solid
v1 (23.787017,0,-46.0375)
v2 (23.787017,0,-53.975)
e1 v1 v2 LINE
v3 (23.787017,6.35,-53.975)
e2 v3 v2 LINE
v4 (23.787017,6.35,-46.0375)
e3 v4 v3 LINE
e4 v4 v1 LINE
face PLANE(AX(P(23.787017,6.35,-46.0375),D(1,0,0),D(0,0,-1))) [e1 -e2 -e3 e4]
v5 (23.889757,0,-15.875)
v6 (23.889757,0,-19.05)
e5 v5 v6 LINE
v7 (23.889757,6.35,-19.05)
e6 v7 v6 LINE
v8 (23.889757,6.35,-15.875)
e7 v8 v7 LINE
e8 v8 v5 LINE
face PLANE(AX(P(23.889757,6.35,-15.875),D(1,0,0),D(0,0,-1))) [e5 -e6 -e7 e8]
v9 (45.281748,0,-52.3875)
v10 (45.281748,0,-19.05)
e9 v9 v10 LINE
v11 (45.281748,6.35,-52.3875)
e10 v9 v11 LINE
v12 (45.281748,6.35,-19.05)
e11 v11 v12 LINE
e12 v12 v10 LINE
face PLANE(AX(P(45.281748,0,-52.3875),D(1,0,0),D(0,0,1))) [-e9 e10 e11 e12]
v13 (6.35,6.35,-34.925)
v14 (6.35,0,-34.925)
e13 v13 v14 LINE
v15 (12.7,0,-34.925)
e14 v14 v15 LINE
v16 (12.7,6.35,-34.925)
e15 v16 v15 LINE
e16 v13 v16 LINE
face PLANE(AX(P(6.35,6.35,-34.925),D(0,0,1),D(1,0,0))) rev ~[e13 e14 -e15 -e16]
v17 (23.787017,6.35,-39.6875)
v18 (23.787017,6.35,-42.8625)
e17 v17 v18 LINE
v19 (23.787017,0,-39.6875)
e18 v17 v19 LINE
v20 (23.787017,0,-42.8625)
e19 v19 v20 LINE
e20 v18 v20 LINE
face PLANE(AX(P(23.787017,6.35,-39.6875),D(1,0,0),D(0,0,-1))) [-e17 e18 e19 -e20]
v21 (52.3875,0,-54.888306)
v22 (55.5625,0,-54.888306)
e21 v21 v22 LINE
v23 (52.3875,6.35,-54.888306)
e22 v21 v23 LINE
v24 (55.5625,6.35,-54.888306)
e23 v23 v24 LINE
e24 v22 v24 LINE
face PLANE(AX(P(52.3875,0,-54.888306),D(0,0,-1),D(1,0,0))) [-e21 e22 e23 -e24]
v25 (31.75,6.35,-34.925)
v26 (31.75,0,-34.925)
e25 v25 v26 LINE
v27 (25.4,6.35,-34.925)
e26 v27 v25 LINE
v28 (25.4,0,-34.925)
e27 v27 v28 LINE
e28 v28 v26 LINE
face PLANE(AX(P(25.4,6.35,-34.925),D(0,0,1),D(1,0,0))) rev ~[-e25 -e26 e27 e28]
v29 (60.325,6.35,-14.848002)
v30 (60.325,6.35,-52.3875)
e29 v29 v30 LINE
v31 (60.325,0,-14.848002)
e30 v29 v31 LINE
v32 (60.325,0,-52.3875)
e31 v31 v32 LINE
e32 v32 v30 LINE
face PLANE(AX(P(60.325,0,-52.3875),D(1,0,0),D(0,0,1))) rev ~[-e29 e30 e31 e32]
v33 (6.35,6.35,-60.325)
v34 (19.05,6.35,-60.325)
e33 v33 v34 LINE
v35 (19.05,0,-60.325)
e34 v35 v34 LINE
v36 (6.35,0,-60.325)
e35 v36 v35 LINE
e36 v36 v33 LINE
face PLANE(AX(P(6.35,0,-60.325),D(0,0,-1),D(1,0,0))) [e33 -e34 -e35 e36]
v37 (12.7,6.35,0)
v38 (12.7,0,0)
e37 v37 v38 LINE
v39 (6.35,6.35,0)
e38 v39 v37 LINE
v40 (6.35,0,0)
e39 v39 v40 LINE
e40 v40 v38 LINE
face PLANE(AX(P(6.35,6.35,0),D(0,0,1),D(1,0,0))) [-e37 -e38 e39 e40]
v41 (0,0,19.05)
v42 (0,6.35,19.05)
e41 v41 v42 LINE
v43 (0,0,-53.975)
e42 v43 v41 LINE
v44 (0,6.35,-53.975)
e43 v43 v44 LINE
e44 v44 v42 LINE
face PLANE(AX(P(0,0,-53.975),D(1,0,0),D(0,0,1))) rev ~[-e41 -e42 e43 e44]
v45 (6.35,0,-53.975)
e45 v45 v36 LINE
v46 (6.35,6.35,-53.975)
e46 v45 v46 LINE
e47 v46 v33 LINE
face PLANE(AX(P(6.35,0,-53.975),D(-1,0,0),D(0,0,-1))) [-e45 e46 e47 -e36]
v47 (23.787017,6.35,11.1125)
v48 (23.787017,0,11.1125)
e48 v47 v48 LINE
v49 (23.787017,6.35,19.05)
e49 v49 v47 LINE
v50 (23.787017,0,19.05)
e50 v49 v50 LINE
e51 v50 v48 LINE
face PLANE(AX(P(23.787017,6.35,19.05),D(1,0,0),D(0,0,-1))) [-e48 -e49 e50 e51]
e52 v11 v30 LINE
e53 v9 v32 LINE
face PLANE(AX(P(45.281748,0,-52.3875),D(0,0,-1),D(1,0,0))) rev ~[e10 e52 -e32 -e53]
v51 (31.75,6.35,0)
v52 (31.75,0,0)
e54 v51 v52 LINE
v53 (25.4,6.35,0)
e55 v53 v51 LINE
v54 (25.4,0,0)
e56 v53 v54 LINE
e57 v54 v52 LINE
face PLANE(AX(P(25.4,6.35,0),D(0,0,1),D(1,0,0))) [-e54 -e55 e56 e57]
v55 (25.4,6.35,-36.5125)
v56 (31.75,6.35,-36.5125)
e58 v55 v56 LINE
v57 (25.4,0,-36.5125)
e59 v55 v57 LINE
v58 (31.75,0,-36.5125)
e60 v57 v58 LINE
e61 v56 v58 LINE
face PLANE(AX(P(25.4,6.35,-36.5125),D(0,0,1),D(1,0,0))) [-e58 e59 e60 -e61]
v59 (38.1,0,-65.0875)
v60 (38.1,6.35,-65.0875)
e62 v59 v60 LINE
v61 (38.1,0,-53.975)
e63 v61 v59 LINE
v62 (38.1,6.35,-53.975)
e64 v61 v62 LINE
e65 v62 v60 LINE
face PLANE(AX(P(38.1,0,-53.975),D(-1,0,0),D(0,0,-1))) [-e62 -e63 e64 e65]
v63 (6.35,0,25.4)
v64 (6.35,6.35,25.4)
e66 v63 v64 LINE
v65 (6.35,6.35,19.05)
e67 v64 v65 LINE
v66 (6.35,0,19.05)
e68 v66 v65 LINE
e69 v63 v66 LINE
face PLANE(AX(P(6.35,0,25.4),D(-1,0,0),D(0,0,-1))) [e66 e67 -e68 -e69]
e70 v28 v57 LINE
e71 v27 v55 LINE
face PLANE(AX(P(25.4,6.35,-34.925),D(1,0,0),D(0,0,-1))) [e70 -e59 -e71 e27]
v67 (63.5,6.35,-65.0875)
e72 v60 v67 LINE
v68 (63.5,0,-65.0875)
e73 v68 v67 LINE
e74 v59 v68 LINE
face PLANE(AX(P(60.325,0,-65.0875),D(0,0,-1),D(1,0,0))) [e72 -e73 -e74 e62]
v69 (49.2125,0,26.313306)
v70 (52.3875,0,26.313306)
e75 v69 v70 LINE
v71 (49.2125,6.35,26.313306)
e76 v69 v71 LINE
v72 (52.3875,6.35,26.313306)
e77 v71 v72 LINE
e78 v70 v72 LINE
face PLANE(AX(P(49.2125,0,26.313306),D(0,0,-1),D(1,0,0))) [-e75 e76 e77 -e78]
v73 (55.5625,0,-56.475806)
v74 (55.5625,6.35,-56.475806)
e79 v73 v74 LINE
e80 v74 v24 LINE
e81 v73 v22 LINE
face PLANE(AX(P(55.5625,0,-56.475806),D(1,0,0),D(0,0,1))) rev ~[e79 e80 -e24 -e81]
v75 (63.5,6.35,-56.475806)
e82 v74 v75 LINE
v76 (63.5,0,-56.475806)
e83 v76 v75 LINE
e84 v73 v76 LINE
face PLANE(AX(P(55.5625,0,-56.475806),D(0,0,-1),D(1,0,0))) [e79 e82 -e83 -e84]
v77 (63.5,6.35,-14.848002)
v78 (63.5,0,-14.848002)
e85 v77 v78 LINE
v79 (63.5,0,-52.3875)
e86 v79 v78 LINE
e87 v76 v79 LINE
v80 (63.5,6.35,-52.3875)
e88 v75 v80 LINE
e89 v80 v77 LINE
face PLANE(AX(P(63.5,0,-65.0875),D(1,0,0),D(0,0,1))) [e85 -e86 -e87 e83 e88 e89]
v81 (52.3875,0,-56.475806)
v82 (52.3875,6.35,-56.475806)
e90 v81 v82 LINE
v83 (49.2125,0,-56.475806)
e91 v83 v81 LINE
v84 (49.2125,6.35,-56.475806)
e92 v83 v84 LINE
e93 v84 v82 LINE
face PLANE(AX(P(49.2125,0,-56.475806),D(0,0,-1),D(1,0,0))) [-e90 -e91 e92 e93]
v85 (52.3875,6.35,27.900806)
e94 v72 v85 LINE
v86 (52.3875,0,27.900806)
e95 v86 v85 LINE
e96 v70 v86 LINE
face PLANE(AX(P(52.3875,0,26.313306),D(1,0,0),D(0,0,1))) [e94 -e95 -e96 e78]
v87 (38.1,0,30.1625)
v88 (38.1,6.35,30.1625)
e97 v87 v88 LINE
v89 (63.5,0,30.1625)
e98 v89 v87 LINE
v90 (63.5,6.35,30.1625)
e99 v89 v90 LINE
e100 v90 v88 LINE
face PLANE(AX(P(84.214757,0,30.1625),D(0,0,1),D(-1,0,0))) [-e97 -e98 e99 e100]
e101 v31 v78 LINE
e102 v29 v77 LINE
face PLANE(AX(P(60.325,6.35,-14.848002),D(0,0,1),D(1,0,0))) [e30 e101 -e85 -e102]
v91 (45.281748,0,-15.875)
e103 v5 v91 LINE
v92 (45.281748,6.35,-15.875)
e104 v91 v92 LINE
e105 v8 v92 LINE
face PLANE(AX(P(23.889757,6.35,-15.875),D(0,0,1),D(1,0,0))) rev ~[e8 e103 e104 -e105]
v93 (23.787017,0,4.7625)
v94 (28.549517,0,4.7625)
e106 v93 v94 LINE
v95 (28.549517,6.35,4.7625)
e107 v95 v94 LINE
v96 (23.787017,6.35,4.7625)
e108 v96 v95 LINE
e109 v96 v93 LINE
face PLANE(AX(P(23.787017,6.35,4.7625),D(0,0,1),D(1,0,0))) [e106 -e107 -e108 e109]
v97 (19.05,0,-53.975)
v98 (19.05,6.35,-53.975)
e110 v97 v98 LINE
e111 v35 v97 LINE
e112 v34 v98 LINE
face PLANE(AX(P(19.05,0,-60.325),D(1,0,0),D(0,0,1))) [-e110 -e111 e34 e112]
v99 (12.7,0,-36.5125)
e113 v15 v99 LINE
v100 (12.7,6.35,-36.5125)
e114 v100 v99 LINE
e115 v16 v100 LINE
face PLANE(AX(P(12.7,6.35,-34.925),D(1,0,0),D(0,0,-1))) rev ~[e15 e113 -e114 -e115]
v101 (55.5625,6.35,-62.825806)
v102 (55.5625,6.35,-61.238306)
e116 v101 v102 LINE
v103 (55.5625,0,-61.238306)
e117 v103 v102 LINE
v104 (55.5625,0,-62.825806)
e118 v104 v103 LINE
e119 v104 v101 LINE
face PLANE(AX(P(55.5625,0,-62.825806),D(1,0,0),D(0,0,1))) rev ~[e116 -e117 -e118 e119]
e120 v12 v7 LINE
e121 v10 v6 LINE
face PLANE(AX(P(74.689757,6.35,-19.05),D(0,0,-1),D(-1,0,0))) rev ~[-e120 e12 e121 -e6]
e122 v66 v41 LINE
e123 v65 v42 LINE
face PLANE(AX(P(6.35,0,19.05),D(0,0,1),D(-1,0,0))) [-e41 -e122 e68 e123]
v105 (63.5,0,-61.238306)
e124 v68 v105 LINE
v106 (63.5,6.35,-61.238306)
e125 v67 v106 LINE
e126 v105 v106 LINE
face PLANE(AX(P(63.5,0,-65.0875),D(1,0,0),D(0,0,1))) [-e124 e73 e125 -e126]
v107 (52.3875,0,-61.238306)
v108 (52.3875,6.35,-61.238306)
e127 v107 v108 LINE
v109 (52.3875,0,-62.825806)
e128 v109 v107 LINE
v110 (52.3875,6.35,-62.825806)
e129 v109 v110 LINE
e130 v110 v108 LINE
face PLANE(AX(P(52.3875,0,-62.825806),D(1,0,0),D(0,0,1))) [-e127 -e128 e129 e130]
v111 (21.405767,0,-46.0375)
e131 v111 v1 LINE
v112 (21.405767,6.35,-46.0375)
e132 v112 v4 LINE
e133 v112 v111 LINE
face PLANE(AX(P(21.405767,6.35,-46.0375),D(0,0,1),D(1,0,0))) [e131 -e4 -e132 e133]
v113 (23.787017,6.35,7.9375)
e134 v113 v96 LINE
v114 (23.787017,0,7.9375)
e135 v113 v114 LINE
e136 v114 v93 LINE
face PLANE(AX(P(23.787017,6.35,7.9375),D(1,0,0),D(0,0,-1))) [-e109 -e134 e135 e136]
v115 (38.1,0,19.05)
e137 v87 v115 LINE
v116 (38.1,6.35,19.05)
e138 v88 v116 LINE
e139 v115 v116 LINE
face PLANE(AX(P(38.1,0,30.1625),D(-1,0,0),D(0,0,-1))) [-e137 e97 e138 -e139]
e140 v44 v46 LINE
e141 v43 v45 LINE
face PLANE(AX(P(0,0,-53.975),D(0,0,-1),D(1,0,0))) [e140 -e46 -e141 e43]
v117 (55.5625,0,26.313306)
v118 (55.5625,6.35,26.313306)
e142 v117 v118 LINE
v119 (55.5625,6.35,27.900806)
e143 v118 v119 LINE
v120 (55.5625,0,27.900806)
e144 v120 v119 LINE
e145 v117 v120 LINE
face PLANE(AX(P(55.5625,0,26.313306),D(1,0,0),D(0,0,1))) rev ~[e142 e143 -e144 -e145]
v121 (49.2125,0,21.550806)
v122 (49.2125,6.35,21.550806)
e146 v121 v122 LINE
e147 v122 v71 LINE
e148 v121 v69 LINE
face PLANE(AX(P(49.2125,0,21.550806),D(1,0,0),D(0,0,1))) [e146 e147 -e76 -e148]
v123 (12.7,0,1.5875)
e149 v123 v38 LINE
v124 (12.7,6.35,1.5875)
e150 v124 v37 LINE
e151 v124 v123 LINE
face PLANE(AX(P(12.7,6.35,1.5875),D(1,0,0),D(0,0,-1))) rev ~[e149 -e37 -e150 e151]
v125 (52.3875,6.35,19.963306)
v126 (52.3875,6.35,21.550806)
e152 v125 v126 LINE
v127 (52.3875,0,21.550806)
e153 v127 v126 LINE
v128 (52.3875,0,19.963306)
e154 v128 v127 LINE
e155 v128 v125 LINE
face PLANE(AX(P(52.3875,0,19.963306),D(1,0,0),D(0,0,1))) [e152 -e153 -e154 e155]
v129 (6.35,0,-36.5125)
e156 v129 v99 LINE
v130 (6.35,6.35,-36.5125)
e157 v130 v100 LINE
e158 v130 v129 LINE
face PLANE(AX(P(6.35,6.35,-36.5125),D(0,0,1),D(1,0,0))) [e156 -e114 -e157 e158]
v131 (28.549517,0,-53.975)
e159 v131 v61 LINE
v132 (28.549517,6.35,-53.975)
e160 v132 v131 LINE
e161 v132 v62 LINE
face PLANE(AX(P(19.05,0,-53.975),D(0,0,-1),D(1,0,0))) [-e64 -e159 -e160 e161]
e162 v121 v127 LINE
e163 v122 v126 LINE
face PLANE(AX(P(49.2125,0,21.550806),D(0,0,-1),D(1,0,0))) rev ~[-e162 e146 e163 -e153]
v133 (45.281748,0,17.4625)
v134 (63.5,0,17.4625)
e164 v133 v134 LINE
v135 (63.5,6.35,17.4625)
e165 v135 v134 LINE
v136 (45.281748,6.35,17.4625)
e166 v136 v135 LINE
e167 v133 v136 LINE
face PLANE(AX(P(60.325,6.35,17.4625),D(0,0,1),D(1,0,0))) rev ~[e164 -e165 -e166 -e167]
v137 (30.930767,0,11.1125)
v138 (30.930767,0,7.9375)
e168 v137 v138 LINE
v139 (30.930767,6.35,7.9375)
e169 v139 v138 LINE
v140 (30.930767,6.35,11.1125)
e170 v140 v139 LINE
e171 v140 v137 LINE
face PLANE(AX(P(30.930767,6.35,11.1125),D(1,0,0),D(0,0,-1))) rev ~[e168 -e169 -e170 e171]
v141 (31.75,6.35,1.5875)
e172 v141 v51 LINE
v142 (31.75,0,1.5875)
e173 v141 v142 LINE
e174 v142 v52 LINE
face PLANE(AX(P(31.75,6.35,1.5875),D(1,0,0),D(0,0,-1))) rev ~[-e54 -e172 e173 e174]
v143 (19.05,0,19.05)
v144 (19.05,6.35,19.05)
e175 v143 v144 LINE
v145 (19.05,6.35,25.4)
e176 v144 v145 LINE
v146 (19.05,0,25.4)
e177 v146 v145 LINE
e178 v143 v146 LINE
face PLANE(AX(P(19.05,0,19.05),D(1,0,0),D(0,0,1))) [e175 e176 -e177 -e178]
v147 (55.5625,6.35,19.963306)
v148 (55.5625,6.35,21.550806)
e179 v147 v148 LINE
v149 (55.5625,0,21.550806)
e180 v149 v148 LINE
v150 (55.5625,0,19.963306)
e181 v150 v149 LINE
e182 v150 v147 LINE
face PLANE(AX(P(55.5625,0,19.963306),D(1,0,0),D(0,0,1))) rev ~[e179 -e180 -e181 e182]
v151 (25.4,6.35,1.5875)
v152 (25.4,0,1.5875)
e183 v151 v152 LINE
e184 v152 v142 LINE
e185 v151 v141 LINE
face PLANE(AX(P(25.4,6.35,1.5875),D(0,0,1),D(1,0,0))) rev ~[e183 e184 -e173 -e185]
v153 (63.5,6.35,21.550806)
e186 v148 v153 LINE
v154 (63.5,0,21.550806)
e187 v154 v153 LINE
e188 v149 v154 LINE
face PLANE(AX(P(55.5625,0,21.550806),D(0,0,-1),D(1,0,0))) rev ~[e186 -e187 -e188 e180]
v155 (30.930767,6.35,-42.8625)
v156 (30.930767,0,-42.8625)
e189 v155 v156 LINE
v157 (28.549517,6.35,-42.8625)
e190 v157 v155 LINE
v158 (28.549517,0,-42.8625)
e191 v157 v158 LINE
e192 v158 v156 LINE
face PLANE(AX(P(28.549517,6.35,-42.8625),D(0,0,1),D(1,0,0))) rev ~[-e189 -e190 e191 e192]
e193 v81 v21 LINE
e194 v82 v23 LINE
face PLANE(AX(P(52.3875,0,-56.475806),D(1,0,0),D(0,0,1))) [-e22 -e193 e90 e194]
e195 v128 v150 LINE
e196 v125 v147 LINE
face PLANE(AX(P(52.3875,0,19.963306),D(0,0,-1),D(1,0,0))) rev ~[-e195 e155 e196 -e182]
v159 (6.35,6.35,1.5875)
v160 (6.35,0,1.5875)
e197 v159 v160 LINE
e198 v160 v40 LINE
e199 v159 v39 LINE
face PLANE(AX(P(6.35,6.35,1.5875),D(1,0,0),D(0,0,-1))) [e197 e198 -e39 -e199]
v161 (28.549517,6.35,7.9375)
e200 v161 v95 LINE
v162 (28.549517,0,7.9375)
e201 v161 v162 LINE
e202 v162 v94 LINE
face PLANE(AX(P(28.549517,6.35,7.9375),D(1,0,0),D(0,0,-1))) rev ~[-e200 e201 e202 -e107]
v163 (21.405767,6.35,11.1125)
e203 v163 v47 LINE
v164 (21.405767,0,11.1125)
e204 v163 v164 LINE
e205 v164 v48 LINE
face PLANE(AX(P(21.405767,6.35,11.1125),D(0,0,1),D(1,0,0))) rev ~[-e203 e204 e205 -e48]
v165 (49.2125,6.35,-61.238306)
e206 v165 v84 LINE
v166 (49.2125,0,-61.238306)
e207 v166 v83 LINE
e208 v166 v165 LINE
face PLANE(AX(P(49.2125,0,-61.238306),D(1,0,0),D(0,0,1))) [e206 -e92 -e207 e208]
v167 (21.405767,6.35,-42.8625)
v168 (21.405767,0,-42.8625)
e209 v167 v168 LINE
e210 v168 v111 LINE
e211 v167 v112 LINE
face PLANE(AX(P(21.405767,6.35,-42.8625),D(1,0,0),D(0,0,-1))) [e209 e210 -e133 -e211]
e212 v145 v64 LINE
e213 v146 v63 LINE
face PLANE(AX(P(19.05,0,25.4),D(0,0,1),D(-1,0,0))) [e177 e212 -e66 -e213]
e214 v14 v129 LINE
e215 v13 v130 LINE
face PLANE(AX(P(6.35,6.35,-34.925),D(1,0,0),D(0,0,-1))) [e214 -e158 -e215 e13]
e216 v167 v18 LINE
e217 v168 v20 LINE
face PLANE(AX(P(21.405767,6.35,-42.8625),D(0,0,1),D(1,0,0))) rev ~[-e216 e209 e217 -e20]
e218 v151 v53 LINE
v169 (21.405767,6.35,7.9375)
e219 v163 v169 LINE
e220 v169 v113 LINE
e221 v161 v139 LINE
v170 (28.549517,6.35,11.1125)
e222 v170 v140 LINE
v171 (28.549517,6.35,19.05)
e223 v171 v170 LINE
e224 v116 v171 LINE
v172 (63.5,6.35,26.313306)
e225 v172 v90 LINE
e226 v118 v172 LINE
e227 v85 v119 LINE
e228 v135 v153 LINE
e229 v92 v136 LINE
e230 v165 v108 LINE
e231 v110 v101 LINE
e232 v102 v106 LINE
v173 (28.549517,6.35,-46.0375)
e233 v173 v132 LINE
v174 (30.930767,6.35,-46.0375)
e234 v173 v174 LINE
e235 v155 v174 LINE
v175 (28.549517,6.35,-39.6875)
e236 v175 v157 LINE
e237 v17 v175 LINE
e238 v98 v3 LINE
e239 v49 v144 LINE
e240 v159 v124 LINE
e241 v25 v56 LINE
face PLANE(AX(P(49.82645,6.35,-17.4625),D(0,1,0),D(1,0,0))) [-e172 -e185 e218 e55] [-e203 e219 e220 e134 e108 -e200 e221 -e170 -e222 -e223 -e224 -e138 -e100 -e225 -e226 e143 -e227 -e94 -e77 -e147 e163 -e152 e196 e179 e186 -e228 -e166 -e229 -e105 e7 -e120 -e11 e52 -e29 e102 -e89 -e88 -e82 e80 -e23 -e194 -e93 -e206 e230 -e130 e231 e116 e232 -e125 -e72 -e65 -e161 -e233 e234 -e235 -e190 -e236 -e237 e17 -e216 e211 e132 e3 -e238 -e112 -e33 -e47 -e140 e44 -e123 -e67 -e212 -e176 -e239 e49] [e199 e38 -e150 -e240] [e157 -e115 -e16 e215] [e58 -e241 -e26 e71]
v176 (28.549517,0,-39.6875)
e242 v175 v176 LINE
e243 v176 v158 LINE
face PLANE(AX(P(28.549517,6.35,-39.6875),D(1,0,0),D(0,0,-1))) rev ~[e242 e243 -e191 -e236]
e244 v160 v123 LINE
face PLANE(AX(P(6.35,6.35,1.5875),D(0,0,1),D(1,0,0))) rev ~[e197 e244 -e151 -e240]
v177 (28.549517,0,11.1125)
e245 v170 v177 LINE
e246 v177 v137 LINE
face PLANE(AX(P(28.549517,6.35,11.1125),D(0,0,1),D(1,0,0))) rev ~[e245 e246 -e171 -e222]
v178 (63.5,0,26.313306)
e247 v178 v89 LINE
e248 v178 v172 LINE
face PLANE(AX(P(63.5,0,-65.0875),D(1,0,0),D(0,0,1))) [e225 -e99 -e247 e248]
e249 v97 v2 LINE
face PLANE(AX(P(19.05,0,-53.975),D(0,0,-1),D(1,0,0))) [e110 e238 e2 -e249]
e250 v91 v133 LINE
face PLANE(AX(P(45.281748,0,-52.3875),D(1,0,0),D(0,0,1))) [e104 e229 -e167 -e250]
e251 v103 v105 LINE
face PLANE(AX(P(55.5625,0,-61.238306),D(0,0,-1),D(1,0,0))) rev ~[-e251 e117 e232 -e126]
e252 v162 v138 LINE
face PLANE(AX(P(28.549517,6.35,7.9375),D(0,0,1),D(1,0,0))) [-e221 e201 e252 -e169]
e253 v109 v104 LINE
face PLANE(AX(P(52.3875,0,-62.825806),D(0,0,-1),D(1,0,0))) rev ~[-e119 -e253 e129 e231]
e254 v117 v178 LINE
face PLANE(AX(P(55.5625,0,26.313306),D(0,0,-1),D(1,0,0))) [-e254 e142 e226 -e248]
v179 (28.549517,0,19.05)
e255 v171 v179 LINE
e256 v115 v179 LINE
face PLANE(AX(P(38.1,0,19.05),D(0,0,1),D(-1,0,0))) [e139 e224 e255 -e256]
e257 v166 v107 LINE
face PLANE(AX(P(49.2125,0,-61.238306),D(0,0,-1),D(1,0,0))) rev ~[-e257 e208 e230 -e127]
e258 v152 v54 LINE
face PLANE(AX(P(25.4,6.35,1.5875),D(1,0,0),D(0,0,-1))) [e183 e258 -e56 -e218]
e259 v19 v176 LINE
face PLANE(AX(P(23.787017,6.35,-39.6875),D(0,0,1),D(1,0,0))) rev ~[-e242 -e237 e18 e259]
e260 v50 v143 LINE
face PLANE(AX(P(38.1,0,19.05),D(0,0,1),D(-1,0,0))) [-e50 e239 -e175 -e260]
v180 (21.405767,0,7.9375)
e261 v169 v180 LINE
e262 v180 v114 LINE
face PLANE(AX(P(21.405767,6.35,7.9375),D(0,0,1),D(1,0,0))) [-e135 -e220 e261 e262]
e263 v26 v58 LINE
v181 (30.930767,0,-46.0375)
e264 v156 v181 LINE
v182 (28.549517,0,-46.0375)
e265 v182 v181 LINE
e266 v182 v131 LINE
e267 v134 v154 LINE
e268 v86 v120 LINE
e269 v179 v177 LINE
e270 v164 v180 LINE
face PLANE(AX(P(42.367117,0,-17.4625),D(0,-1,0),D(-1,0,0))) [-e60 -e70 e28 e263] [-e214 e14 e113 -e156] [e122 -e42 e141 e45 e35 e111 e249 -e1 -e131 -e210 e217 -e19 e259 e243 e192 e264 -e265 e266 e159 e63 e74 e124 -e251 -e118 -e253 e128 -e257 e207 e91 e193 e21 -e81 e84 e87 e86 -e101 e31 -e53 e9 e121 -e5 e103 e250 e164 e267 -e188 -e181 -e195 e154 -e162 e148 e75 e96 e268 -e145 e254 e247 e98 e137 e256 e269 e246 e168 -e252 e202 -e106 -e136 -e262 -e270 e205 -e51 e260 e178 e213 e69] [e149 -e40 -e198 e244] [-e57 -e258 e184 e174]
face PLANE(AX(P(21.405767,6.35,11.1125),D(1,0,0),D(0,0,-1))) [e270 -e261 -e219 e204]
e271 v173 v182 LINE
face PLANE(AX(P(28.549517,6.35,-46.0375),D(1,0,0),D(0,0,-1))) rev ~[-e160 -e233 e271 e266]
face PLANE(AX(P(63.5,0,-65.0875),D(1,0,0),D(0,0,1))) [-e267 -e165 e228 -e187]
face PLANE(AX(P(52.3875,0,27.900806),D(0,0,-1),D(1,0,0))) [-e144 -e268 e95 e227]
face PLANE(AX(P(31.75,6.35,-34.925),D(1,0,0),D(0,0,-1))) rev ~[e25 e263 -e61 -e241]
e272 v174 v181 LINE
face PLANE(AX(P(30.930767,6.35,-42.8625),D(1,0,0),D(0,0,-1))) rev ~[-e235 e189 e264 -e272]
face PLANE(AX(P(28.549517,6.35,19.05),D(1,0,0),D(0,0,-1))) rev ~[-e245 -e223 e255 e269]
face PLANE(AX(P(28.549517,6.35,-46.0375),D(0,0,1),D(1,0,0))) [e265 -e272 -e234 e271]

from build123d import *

# Parameters (mm, degrees)
BOSS_EXTRUDE1_DEPTH = 6.35
SKETCH2_W           = 6.35
SKETCH2_H           = 1.5875
CUT_EXTRUDE1_DEPTH  = 6.35
BOSS_EXTRUDE2_START = -6.35
SKETCH4_W           = 24.326613467
SKETCH4_H           = 69.85
BOSS_EXTRUDE2_DEPTH = 6.35
SKETCH5_W           = 25.4
SKETCH5_H           = 3.175
CUT_EXTRUDE3_DEPTH  = 6.35
SKETCH7_W           = 19.923596682
SKETCH7_H           = 95.25
CUT_EXTRUDE4_DEPTH  = 6.35
SKETCH8_W           = 15.043251586
SKETCH8_H           = 69.85
CUT_EXTRUDE5_DEPTH  = 6.35
SKETCH9_W           = 3.175
SKETCH9_H           = 95.25
BOSS_EXTRUDE3_DEPTH = 6.35
SKETCH10_W          = 17.539756693
SKETCH10_H          = 95.25
CUT_EXTRUDE7_DEPTH  = 6.35
SKETCH3_W           = 4.7625
SKETCH3_H           = 14.2875
SKETCH3_W_2         = 9.525
SKETCH3_H_2         = 3.175
CUT_EXTRUDE8_DEPTH  = 6.35
SKETCH11_W          = 14.2875
SKETCH11_H          = 4.7625
SKETCH11_W_2        = 3.175
SKETCH11_H_2        = 7.9375
CUT_EXTRUDE9_DEPTH  = 6.35
SKETCH14_W          = 14.575398065
SKETCH14_H          = 32.31050226
CUT_EXTRUDE11_DEPTH = 6.35


with BuildPart() as part:
    # Sketch1 → Boss-Extrude1 (new body)
    with BuildSketch(Plane(origin=(0, 0, 0), x_dir=(1, 0, 0), z_dir=(0, 1, 0))):
        Polygon((38.1, 65.0875), (84.214756693, 65.0875), (84.214756693, -30.1625), (38.1, -30.1625), (38.1, -19.05), (19.05, -19.05), (19.05, -25.4), (6.35, -25.4), (6.35, -19.05), (0, -19.05), (0, 0), (0, 34.925), (0, 53.975), (6.35, 53.975), (6.35, 60.325), (19.05, 60.325), (19.05, 53.975), (38.1, 53.975), align=None)
        Polygon((38.1, 34.925), (44.45, 38.591174209), (44.45, 52.3875), (74.689756693, 52.3875), (77.864756693, 50.8), (77.864756693, -15.875), (74.689756693, -17.4625), (44.45, -17.4625), (44.45, -3.666174209), (38.1, 0), align=None, mode=Mode.SUBTRACT)
    extrude(amount=BOSS_EXTRUDE1_DEPTH)

    # Sketch2 → Cut-Extrude1 (cut)
    with BuildSketch(Plane(origin=(0, 6.35, 0), x_dir=(1, 0, 0), z_dir=(0, 1, 0))):
        with Locations((9.525, 35.71875)):
            Rectangle(SKETCH2_W, SKETCH2_H)
        with Locations((9.525, -0.79375)):
            Rectangle(SKETCH2_W, SKETCH2_H)
        with Locations((28.575, 35.71875)):
            Rectangle(SKETCH2_W, SKETCH2_H)
        with Locations((28.575, -0.79375)):
            Rectangle(SKETCH2_W, SKETCH2_H)
    extrude(amount=-CUT_EXTRUDE1_DEPTH, mode=Mode.SUBTRACT)

    # Sketch4 → Boss-Extrude2 (add)
    with BuildSketch(Plane(origin=(0, 6.35, 0), x_dir=(1, 0, 0), z_dir=(0, 1, 0)).offset(BOSS_EXTRUDE2_START)):
        with Locations((49.82644996, 17.4625)):
            Rectangle(SKETCH4_W, SKETCH4_H)
    extrude(amount=BOSS_EXTRUDE2_DEPTH)

    # Sketch5 → Cut-Extrude3 (cut)
    with BuildSketch(Plane(origin=(0, 6.35, 0), x_dir=(1, 0, 0), z_dir=(0, 1, 0))):
        with Locations((61.989756693, 17.4625)):
            Rectangle(SKETCH5_W, SKETCH5_H)
        with Locations((36.589756693, 17.4625)):
            Rectangle(SKETCH5_W, SKETCH5_H)
    extrude(amount=-CUT_EXTRUDE3_DEPTH, mode=Mode.SUBTRACT)

    # Sketch7 → Cut-Extrude4 (cut)
    with BuildSketch(Plane(origin=(0, 6.35, 0), x_dir=(1, 0, 0), z_dir=(0, 1, 0))):
        with Locations((91.001555034, 17.4625)):
            Rectangle(SKETCH7_W, SKETCH7_H)
    extrude(amount=-CUT_EXTRUDE4_DEPTH, mode=Mode.SUBTRACT)

    # Sketch8 → Cut-Extrude5 (cut)
    with BuildSketch(Plane.XZ):
        with Locations((52.803374207, -17.4625)):
            Rectangle(SKETCH8_W, SKETCH8_H)
    extrude(amount=-CUT_EXTRUDE5_DEPTH, mode=Mode.SUBTRACT)

    # Sketch9 → Boss-Extrude3 (add)
    with BuildSketch(Plane.XZ):
        with Locations((61.9125, -17.4625)):
            Rectangle(SKETCH9_W, SKETCH9_H)
    extrude(amount=-BOSS_EXTRUDE3_DEPTH)

    # Sketch10 → Cut-Extrude7 (cut)
    with BuildSketch(Plane.XZ):
        with Locations((72.269878347, -17.4625)):
            Rectangle(SKETCH10_W, SKETCH10_H)
    extrude(amount=-CUT_EXTRUDE7_DEPTH, mode=Mode.SUBTRACT)

    # Sketch3 → Cut-Extrude8 (cut)
    with BuildSketch(Plane(origin=(0, 6.35, 0), x_dir=(1, 0, 0), z_dir=(0, 1, 0))):
        with Locations((26.168267374, 46.83125)):
            Rectangle(SKETCH3_W, SKETCH3_H)
        with Locations((26.168267374, 44.45)):
            Rectangle(SKETCH3_W_2, SKETCH3_H_2)
        with Locations((26.168267374, -9.525)):
            Rectangle(SKETCH3_W_2, SKETCH3_H_2)
        with Locations((26.168267374, -11.90625)):
            Rectangle(SKETCH3_W, SKETCH3_H)
    extrude(amount=-CUT_EXTRUDE8_DEPTH, mode=Mode.SUBTRACT)

    # Sketch11 → Cut-Extrude9 (cut)
    with BuildSketch(Plane.XZ):
        with Locations((56.35625, 23.932056084)):
            Rectangle(SKETCH11_W, SKETCH11_H)
        with Locations((53.975, 23.932056084)):
            Rectangle(SKETCH11_W_2, SKETCH11_H_2)
        with Locations((53.975, -58.857056084)):
            Rectangle(SKETCH11_W_2, SKETCH11_H_2)
        with Locations((56.35625, -58.857056084)):
            Rectangle(SKETCH11_W, SKETCH11_H)
    extrude(amount=-CUT_EXTRUDE9_DEPTH, mode=Mode.SUBTRACT)

    # Sketch14 → Cut-Extrude11 (cut)
    with BuildSketch(Plane(origin=(0, 6.35, 0), x_dir=(1, 0, 0), z_dir=(0, 1, 0))):
        with Locations((67.612699033, -1.30724887)):
            Rectangle(SKETCH14_W, SKETCH14_H)
    extrude(amount=-CUT_EXTRUDE11_DEPTH, mode=Mode.SUBTRACT)


solid = part.part
